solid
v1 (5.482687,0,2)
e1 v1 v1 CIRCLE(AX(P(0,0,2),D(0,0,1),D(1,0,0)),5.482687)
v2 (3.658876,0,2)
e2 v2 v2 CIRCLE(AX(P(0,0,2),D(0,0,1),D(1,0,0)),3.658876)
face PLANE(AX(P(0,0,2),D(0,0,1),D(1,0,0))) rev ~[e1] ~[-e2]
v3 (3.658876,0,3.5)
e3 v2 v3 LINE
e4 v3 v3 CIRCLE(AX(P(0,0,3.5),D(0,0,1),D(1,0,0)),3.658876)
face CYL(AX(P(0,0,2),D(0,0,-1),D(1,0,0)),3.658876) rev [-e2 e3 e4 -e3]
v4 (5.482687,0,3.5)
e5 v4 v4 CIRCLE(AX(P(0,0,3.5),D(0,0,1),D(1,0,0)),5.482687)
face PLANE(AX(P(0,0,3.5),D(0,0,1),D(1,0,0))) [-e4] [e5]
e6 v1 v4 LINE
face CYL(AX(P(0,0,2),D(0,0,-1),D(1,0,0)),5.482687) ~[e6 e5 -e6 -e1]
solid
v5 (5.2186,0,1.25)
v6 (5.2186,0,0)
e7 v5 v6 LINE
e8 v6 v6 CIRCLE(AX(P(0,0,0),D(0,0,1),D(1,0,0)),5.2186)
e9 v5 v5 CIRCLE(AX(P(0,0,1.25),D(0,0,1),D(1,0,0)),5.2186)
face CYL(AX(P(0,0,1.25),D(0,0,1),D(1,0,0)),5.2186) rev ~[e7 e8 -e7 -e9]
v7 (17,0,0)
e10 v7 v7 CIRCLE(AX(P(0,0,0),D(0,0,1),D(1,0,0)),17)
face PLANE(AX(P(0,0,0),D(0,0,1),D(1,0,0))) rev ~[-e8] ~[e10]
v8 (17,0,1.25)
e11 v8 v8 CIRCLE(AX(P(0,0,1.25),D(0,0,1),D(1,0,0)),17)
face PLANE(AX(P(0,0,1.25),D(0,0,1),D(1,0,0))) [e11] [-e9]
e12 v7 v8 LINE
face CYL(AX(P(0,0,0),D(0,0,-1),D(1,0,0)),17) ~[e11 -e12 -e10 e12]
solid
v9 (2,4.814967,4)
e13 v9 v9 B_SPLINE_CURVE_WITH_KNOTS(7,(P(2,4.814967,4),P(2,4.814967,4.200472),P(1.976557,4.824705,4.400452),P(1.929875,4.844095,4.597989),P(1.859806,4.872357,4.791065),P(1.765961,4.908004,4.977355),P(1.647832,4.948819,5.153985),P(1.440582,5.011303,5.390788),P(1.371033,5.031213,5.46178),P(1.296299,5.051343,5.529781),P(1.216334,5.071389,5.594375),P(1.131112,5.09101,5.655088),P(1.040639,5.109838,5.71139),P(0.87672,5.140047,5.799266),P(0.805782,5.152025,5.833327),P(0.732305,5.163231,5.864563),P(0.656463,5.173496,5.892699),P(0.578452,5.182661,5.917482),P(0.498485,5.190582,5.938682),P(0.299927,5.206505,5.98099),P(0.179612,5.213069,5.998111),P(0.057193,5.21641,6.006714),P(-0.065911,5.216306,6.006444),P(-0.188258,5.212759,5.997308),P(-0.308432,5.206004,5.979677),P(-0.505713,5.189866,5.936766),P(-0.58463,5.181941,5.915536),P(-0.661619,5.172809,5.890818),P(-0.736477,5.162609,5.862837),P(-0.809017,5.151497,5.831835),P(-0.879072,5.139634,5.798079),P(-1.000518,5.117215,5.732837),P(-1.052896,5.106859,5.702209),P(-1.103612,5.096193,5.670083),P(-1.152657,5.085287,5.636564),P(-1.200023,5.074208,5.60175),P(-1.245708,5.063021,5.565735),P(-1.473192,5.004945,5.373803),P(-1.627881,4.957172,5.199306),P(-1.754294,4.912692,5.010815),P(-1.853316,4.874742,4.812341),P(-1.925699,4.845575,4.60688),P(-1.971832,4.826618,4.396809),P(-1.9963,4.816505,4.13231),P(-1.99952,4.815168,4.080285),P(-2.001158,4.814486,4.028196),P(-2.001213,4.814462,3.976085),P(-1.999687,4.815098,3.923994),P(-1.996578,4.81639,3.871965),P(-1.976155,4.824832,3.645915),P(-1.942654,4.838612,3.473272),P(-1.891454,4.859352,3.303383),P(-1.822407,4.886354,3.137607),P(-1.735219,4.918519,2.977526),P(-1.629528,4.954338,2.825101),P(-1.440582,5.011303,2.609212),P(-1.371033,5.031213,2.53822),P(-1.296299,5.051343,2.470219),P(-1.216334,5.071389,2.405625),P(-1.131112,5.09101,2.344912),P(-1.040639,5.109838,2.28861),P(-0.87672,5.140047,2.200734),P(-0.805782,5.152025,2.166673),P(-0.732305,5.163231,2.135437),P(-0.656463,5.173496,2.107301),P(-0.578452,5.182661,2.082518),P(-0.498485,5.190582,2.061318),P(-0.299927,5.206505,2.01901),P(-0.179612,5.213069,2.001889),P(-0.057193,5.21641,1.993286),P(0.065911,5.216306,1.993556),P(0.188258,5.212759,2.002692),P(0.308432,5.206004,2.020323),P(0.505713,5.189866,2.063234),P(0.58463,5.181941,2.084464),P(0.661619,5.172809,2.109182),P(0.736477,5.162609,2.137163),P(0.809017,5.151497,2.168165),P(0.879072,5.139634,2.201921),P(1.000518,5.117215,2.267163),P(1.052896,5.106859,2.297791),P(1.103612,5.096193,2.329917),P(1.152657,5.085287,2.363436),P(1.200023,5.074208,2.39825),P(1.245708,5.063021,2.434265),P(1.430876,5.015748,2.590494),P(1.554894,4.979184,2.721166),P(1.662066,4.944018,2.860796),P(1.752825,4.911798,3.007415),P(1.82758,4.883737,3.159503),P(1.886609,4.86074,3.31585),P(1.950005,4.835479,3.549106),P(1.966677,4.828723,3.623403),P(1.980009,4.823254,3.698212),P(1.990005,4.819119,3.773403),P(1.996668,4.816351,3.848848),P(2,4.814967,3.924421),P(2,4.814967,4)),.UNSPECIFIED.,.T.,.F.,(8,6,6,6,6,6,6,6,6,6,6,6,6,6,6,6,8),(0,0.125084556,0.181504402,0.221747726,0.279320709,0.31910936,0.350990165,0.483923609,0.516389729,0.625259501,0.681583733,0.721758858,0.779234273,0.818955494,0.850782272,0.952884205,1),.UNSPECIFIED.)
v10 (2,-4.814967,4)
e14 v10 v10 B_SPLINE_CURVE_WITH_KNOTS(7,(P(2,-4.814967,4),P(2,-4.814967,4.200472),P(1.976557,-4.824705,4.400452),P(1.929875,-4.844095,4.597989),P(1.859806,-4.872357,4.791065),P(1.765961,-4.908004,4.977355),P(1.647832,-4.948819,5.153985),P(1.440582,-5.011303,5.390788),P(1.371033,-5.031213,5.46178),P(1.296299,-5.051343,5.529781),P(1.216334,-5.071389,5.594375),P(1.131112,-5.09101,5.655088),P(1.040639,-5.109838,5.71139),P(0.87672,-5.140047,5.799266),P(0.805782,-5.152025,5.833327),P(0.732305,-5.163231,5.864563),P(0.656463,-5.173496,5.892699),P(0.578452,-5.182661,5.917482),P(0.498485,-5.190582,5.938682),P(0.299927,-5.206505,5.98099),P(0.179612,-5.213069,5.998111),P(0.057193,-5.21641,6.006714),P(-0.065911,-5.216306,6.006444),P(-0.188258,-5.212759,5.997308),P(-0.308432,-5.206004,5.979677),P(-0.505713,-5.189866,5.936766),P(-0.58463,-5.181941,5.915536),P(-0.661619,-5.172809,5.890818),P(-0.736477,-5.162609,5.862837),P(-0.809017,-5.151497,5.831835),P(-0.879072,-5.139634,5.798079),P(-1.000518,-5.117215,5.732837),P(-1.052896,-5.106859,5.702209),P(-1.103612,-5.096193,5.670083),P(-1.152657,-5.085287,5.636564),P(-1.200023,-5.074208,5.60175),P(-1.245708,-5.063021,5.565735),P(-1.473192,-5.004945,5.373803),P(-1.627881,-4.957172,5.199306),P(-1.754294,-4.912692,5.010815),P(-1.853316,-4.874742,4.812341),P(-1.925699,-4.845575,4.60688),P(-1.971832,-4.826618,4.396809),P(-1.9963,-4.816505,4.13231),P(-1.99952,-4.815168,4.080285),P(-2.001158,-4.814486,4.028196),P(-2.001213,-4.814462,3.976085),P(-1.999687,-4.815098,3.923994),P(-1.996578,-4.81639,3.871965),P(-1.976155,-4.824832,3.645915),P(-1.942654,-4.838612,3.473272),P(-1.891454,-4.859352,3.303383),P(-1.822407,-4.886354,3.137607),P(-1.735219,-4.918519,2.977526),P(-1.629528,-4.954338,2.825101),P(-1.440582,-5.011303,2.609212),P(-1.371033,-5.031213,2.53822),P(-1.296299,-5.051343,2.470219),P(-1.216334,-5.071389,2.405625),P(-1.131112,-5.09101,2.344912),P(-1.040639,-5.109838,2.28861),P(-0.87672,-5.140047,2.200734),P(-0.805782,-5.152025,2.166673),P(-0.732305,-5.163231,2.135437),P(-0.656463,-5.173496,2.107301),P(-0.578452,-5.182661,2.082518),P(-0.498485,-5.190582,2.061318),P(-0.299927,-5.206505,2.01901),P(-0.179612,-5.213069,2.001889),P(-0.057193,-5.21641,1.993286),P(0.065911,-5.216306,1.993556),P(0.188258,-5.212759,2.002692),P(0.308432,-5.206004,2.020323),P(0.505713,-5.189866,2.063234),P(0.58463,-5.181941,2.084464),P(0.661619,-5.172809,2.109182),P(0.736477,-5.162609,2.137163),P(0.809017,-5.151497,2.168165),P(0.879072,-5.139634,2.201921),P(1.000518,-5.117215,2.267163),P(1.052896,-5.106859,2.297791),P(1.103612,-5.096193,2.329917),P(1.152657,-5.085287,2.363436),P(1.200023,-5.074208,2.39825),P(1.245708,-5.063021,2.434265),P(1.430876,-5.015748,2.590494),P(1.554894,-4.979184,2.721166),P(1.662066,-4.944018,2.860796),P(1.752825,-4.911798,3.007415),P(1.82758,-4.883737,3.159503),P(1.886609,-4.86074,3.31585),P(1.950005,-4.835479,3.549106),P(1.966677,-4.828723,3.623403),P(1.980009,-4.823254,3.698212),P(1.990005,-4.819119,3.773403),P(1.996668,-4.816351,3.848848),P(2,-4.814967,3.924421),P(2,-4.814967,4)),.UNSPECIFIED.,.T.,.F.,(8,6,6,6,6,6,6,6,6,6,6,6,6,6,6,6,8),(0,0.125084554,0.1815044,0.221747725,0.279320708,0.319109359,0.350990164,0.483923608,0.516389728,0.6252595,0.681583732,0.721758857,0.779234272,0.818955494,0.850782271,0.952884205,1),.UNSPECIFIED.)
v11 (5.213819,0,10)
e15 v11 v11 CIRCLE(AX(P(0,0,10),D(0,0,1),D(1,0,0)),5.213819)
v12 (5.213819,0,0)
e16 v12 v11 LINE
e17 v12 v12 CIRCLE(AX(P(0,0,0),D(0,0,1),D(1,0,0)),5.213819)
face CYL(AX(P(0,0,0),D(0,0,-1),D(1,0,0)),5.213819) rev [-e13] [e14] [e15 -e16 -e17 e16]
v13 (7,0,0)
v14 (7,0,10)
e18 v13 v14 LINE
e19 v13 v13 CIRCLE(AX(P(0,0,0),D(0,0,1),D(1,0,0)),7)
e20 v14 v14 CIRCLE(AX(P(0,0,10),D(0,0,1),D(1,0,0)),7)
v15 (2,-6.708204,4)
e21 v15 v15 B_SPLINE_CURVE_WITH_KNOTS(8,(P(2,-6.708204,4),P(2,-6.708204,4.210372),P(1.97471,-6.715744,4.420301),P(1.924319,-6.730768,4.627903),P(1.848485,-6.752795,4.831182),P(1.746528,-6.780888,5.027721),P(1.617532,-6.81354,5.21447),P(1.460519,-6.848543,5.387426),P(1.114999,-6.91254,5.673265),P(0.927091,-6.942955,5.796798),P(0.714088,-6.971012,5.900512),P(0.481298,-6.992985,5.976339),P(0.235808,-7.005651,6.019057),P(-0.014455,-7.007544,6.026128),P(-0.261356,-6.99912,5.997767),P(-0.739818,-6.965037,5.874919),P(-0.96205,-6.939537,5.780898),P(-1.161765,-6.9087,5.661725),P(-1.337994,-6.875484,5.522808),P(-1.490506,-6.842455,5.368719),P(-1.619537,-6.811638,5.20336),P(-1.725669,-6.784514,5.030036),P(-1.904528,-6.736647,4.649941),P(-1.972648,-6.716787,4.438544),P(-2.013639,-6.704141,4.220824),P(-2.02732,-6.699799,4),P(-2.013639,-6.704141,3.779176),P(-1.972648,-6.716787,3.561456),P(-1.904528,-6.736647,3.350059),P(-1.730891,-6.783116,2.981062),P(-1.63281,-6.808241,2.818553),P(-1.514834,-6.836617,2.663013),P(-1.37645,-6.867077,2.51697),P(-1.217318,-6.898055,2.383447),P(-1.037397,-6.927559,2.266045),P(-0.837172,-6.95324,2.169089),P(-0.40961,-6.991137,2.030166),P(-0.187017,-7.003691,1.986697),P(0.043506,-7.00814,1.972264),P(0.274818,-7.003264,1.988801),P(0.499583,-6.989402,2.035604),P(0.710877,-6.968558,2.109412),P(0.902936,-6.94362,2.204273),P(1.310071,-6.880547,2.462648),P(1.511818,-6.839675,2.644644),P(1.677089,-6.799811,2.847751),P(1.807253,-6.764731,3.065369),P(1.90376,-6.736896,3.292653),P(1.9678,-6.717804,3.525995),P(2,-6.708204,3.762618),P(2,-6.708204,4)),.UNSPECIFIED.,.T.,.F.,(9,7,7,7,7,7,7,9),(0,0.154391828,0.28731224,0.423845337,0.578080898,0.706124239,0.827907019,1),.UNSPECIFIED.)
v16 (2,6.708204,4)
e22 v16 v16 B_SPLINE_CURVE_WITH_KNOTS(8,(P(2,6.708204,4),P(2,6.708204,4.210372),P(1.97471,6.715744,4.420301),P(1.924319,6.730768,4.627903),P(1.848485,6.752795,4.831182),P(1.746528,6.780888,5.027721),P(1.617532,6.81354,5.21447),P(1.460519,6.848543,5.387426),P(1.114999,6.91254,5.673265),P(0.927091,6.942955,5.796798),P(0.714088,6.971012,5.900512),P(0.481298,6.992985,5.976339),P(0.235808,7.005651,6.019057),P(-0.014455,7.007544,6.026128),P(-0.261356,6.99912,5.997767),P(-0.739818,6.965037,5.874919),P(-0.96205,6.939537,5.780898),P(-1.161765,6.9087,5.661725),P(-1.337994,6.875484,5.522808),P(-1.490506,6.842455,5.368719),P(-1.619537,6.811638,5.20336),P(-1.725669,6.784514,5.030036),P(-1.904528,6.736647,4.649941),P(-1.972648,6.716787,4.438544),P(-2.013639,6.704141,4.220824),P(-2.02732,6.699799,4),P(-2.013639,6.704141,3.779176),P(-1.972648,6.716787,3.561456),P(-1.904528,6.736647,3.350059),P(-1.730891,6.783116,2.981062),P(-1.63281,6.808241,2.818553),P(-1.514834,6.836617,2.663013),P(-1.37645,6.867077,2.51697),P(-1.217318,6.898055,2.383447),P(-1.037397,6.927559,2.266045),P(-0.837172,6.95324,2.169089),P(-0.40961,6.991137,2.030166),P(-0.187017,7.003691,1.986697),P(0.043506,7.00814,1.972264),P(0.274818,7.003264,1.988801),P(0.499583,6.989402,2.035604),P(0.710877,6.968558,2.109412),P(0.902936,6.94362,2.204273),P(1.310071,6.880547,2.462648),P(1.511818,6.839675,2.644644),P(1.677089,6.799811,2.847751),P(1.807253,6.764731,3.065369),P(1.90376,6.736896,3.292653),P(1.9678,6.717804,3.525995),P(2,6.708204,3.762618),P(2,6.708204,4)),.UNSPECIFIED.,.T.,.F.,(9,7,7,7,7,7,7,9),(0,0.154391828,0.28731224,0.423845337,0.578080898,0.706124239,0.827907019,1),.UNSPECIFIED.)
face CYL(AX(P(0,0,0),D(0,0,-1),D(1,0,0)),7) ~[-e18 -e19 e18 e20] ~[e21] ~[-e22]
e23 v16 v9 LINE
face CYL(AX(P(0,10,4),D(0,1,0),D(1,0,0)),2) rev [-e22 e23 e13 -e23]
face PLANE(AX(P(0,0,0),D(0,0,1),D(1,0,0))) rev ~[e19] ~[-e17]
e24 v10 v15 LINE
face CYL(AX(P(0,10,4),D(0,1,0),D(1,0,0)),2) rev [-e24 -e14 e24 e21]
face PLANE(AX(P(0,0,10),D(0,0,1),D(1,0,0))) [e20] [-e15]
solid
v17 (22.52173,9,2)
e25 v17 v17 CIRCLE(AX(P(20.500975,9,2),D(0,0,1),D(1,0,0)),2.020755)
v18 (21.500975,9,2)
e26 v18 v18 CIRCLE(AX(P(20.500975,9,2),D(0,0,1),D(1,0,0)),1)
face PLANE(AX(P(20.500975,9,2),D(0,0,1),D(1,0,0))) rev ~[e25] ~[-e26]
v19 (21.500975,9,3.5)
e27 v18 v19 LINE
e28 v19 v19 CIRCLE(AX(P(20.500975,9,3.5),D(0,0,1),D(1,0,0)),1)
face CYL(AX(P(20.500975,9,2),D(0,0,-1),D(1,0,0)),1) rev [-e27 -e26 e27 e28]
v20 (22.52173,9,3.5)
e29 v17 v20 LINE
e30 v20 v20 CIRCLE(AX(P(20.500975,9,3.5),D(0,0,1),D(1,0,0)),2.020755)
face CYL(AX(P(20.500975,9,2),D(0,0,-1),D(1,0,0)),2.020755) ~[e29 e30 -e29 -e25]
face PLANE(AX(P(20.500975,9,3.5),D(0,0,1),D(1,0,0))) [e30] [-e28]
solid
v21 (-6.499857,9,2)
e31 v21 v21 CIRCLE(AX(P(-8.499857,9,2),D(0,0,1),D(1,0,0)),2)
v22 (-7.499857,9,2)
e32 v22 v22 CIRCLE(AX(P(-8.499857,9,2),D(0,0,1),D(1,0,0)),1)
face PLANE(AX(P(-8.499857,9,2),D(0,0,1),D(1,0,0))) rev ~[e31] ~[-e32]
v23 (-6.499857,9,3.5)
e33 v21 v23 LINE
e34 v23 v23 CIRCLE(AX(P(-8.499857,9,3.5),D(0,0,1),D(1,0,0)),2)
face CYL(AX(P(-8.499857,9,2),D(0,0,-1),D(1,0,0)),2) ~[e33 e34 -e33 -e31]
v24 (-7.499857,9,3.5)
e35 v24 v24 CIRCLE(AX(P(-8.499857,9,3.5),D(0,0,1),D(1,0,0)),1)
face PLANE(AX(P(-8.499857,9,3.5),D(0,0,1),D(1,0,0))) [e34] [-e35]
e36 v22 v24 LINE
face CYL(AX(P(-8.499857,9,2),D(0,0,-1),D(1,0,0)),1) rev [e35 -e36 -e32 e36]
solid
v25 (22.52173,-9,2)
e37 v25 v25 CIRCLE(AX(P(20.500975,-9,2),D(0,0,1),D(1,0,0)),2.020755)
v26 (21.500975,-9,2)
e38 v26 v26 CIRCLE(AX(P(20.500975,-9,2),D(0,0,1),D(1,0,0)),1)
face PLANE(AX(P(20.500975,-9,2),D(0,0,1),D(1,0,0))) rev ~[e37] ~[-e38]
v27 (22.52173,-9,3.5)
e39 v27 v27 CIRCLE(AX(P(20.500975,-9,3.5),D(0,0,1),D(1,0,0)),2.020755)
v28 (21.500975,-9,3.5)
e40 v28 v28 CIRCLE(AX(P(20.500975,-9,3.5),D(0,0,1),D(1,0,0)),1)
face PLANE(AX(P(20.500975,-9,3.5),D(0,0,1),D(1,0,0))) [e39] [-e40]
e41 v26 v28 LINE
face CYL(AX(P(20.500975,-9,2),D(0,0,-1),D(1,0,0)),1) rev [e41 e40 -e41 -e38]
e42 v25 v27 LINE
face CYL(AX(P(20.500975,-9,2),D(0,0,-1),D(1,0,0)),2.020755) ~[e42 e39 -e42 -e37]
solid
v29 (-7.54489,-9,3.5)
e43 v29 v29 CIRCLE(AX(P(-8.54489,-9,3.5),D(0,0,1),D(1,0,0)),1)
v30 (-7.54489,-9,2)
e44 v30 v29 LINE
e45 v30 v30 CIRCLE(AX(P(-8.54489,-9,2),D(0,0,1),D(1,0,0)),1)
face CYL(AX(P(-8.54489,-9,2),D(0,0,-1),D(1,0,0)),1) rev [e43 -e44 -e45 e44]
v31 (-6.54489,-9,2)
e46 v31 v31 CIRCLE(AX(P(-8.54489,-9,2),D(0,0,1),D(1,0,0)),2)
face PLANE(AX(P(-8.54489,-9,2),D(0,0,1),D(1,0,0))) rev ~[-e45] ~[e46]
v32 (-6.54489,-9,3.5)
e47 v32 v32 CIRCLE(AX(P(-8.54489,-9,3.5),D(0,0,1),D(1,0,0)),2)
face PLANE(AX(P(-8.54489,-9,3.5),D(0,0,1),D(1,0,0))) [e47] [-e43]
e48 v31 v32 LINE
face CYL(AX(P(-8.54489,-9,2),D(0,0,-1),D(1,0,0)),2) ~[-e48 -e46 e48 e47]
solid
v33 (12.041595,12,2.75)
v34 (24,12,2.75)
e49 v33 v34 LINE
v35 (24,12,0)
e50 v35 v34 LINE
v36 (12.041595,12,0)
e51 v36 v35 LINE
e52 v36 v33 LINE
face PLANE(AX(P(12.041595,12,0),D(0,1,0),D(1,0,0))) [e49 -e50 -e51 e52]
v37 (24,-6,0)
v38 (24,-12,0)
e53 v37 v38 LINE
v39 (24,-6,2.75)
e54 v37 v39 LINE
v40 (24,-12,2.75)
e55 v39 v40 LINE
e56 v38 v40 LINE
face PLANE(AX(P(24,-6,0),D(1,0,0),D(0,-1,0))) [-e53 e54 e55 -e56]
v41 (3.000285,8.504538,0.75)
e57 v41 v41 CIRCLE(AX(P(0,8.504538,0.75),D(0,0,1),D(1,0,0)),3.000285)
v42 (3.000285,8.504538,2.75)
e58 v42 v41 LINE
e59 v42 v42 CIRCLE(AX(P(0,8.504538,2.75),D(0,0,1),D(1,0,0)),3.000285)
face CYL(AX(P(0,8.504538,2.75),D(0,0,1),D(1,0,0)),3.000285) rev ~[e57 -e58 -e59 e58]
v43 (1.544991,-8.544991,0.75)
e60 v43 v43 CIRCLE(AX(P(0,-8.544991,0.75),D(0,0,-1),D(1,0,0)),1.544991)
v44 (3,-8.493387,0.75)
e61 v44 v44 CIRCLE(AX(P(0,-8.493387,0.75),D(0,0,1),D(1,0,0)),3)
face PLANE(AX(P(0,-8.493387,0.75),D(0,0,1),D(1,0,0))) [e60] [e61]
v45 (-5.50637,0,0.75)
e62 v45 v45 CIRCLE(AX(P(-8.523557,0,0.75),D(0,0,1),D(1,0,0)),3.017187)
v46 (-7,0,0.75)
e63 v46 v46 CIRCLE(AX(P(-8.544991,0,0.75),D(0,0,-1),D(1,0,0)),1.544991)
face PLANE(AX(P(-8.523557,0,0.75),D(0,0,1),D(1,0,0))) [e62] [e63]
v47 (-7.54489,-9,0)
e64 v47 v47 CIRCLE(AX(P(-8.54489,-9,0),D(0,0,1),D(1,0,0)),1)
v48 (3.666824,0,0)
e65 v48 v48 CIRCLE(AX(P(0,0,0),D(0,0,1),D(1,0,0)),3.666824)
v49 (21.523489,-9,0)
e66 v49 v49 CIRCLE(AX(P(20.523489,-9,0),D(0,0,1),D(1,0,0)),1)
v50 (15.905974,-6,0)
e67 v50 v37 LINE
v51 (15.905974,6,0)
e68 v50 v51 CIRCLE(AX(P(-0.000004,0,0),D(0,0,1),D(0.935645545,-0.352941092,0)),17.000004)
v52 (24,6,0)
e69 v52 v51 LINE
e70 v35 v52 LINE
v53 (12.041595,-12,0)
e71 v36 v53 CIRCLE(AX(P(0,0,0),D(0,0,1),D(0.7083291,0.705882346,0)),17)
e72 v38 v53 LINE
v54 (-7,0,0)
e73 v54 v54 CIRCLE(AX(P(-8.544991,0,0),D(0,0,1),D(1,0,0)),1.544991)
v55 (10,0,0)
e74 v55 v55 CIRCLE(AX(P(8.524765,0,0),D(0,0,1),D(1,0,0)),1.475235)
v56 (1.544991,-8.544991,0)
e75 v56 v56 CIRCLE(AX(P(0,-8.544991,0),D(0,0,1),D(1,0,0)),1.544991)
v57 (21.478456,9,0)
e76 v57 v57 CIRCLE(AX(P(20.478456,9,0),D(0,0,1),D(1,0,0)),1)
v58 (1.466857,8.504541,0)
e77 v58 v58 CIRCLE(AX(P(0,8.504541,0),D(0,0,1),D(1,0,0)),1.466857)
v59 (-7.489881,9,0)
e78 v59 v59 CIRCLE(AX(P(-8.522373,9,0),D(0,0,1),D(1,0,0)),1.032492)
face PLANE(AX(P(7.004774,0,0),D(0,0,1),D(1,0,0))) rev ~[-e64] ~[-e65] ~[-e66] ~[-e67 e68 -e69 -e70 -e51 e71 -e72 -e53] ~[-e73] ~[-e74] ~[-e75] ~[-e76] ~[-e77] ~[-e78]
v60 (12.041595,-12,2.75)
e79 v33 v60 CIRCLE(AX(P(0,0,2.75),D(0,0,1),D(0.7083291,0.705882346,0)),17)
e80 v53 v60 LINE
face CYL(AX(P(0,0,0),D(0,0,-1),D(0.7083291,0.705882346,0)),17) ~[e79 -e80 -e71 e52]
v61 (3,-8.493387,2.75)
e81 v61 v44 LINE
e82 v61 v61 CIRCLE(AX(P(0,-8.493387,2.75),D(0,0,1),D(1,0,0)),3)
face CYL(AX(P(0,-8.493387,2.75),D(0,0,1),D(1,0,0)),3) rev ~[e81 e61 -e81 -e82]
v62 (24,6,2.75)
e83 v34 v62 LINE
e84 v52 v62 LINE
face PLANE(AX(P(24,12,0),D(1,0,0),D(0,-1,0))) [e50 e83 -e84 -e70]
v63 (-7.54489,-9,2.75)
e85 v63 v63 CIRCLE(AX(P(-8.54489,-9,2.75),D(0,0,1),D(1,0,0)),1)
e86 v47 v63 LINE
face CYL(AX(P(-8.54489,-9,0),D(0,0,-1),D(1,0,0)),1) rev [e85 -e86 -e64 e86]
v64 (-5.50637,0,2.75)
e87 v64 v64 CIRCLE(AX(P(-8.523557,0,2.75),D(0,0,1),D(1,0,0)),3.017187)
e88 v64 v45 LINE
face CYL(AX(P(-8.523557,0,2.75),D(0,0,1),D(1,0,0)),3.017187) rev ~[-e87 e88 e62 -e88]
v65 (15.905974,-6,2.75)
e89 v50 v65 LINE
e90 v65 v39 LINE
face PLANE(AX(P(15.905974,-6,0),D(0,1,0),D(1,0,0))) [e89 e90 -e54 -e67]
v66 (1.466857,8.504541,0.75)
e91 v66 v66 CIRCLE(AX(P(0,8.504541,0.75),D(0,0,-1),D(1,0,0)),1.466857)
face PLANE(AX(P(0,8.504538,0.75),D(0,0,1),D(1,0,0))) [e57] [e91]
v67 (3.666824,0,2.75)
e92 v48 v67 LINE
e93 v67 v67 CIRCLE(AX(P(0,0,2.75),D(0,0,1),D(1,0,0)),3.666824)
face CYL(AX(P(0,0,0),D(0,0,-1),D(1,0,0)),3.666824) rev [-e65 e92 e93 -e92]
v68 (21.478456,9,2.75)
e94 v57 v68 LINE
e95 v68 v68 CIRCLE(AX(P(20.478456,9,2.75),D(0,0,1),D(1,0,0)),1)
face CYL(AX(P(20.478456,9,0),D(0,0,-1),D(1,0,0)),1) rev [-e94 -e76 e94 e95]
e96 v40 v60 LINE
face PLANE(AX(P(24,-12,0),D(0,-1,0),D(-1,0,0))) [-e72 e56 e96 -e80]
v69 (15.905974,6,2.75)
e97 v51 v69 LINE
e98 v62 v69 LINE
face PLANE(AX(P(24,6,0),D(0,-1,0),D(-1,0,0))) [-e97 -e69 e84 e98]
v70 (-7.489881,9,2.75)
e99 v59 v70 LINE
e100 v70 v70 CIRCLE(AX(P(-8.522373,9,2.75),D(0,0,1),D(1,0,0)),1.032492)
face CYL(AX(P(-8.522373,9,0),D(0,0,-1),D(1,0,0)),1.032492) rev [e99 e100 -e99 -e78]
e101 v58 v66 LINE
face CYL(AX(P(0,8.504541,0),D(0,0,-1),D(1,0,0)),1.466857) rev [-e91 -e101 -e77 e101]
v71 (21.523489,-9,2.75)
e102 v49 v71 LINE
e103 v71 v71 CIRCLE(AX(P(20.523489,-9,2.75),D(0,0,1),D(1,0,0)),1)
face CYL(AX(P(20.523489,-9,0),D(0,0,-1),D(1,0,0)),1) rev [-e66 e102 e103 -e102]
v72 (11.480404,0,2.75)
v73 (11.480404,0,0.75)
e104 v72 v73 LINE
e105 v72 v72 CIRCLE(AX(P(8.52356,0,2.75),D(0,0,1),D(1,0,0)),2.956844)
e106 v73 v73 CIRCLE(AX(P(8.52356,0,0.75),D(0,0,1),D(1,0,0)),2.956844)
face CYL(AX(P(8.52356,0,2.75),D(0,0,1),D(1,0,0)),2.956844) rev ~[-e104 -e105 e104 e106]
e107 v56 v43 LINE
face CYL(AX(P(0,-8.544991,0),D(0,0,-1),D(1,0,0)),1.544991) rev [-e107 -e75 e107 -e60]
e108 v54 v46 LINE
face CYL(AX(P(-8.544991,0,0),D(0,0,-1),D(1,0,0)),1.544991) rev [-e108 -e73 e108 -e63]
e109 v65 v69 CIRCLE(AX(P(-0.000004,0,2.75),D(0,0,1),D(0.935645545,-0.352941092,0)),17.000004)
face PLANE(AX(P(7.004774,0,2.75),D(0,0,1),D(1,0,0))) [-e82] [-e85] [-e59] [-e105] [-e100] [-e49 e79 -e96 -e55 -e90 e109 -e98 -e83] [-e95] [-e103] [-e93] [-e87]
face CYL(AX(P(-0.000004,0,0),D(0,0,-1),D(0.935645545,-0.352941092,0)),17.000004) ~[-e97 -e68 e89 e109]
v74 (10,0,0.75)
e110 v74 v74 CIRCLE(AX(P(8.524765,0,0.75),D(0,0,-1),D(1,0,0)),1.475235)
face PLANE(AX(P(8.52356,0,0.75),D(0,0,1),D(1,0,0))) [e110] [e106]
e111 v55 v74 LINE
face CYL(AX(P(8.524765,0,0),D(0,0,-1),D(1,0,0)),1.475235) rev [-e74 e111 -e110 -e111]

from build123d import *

# Parameters (mm, degrees)
SKETCH001_R     = 2
SKETCH001_R_2   = 1
SKETCH001_R_3   = 2.020755
SKETCH001_R_4   = 5.482687
SKETCH001_R_5   = 3.658876
PAD001_DEPTH    = 1.5
SKETCH003_R     = 17
SKETCH003_R_2   = 2.457315
PAD003_DEPTH    = 1.25
SKETCH005_R     = 5.2186
POCKET_DEPTH    = 2
SKETCH004_R     = 2
PAD004_DEPTH    = 20
SKETCH002_R     = 7
SKETCH002_R_2   = 5.213819
PAD002_DEPTH    = 10
SKETCH_R        = 3.666824
SKETCH_R_2      = 1.466857
SKETCH_R_3      = 1.475235
SKETCH_R_4      = 1.544991
SKETCH_R_5      = 1.032492
SKETCH_R_6      = 1
PAD_DEPTH       = 2.75
SKETCH006_R     = 3.000285
SKETCH006_R_2   = 3.017187
SKETCH006_R_3   = 2.956844
SKETCH006_R_4   = 3
POCKET001_DEPTH = 2


with BuildPart() as standoffspad:
    # Sketch001 → Pad001 (new body)
    with BuildSketch(Plane.XY.offset(2)):
        with Locations((-8.499857, 9)):
            Circle(SKETCH001_R)
        with Locations((-8.499857, 9)):
            Circle(SKETCH001_R_2, mode=Mode.SUBTRACT)
        with Locations((-8.54489, -9)):
            Circle(SKETCH001_R)
        with Locations((-8.54489, -9)):
            Circle(SKETCH001_R_2, mode=Mode.SUBTRACT)
        with Locations((20.500975, 9)):
            Circle(SKETCH001_R_3)
        with Locations((20.500975, 9)):
            Circle(SKETCH001_R_2, mode=Mode.SUBTRACT)
        with Locations((20.500975, -9)):
            Circle(SKETCH001_R_3)
        with Locations((20.500975, -9)):
            Circle(SKETCH001_R_2, mode=Mode.SUBTRACT)
        Circle(SKETCH001_R_4)
        Circle(SKETCH001_R_5, mode=Mode.SUBTRACT)
    extrude(amount=PAD001_DEPTH)


with BuildPart() as finalencoderwheelsurface:
    # Sketch003 → Pad003 (new body)
    with BuildSketch(Plane.XY):
        Circle(SKETCH003_R)
        Circle(SKETCH003_R_2, mode=Mode.SUBTRACT)
    extrude(amount=PAD003_DEPTH)

    # Sketch005 → Pocket (cut)
    with BuildSketch(Plane.XY.offset(1.25)):
        Circle(SKETCH005_R)
    extrude(amount=-POCKET_DEPTH, mode=Mode.SUBTRACT)


with BuildPart() as cylinderforhole:
    # Sketch004 → Pad004 (new body)
    with BuildSketch(Plane.XZ.offset(-10)):
        with Locations((0, 4)):
            Circle(SKETCH004_R)
    extrude(amount=PAD004_DEPTH)


with BuildPart() as finalaxlemountwithhole:
    # Sketch002 → Pad002 (new body)
    with BuildSketch(Plane.XY):
        Circle(SKETCH002_R)
        Circle(SKETCH002_R_2, mode=Mode.SUBTRACT)
    extrude(amount=PAD002_DEPTH)

    # Cut: cut cylinderForHole
    add(cylinderforhole.part, mode=Mode.SUBTRACT)


with BuildPart() as finalencoderchassismount:
    # Sketch → Pad (new body)
    with BuildSketch(Plane.XY):
        with BuildLine():
            ThreePointArc((12.041595, 12), (-17, 0), (12.041595, -12))
            Line((24, -12), (12.041595, -12))
            Line((24, -6), (24, -12))
            Line((15.905974, -6), (24, -6))
            ThreePointArc((15.905974, -6), (17, 0), (15.905974, 6))
            Line((24, 6), (15.905974, 6))
            Line((24, 12), (24, 6))
            Line((12.041595, 12), (24, 12))
        make_face()
        Circle(SKETCH_R, mode=Mode.SUBTRACT)
        with Locations((0, 8.504541)):
            Circle(SKETCH_R_2, mode=Mode.SUBTRACT)
        with Locations((8.524765, 0)):
            Circle(SKETCH_R_3, mode=Mode.SUBTRACT)
        with Locations((0, -8.544991)):
            Circle(SKETCH_R_4, mode=Mode.SUBTRACT)
        with Locations((-8.544991, 0)):
            Circle(SKETCH_R_4, mode=Mode.SUBTRACT)
        with Locations((-8.522373, 9)):
            Circle(SKETCH_R_5, mode=Mode.SUBTRACT)
        with Locations((-8.54489, -9)):
            Circle(SKETCH_R_6, mode=Mode.SUBTRACT)
        with Locations((20.478456, 9)):
            Circle(SKETCH_R_6, mode=Mode.SUBTRACT)
        with Locations((20.523489, -9)):
            Circle(SKETCH_R_6, mode=Mode.SUBTRACT)
    extrude(amount=PAD_DEPTH)

    # Sketch006 → Pocket001 (cut)
    with BuildSketch(Plane.XY.offset(2.75)):
        with Locations((0, 8.504538)):
            Circle(SKETCH006_R)
        with Locations((-8.523557, 0)):
            Circle(SKETCH006_R_2)
        with Locations((8.52356, 0)):
            Circle(SKETCH006_R_3)
        with Locations((0, -8.493387)):
            Circle(SKETCH006_R_4)
    extrude(amount=-POCKET001_DEPTH, mode=Mode.SUBTRACT)


solid = Compound([standoffspad.part, finalencoderwheelsurface.part, finalaxlemountwithhole.part, finalencoderchassismount.part])
